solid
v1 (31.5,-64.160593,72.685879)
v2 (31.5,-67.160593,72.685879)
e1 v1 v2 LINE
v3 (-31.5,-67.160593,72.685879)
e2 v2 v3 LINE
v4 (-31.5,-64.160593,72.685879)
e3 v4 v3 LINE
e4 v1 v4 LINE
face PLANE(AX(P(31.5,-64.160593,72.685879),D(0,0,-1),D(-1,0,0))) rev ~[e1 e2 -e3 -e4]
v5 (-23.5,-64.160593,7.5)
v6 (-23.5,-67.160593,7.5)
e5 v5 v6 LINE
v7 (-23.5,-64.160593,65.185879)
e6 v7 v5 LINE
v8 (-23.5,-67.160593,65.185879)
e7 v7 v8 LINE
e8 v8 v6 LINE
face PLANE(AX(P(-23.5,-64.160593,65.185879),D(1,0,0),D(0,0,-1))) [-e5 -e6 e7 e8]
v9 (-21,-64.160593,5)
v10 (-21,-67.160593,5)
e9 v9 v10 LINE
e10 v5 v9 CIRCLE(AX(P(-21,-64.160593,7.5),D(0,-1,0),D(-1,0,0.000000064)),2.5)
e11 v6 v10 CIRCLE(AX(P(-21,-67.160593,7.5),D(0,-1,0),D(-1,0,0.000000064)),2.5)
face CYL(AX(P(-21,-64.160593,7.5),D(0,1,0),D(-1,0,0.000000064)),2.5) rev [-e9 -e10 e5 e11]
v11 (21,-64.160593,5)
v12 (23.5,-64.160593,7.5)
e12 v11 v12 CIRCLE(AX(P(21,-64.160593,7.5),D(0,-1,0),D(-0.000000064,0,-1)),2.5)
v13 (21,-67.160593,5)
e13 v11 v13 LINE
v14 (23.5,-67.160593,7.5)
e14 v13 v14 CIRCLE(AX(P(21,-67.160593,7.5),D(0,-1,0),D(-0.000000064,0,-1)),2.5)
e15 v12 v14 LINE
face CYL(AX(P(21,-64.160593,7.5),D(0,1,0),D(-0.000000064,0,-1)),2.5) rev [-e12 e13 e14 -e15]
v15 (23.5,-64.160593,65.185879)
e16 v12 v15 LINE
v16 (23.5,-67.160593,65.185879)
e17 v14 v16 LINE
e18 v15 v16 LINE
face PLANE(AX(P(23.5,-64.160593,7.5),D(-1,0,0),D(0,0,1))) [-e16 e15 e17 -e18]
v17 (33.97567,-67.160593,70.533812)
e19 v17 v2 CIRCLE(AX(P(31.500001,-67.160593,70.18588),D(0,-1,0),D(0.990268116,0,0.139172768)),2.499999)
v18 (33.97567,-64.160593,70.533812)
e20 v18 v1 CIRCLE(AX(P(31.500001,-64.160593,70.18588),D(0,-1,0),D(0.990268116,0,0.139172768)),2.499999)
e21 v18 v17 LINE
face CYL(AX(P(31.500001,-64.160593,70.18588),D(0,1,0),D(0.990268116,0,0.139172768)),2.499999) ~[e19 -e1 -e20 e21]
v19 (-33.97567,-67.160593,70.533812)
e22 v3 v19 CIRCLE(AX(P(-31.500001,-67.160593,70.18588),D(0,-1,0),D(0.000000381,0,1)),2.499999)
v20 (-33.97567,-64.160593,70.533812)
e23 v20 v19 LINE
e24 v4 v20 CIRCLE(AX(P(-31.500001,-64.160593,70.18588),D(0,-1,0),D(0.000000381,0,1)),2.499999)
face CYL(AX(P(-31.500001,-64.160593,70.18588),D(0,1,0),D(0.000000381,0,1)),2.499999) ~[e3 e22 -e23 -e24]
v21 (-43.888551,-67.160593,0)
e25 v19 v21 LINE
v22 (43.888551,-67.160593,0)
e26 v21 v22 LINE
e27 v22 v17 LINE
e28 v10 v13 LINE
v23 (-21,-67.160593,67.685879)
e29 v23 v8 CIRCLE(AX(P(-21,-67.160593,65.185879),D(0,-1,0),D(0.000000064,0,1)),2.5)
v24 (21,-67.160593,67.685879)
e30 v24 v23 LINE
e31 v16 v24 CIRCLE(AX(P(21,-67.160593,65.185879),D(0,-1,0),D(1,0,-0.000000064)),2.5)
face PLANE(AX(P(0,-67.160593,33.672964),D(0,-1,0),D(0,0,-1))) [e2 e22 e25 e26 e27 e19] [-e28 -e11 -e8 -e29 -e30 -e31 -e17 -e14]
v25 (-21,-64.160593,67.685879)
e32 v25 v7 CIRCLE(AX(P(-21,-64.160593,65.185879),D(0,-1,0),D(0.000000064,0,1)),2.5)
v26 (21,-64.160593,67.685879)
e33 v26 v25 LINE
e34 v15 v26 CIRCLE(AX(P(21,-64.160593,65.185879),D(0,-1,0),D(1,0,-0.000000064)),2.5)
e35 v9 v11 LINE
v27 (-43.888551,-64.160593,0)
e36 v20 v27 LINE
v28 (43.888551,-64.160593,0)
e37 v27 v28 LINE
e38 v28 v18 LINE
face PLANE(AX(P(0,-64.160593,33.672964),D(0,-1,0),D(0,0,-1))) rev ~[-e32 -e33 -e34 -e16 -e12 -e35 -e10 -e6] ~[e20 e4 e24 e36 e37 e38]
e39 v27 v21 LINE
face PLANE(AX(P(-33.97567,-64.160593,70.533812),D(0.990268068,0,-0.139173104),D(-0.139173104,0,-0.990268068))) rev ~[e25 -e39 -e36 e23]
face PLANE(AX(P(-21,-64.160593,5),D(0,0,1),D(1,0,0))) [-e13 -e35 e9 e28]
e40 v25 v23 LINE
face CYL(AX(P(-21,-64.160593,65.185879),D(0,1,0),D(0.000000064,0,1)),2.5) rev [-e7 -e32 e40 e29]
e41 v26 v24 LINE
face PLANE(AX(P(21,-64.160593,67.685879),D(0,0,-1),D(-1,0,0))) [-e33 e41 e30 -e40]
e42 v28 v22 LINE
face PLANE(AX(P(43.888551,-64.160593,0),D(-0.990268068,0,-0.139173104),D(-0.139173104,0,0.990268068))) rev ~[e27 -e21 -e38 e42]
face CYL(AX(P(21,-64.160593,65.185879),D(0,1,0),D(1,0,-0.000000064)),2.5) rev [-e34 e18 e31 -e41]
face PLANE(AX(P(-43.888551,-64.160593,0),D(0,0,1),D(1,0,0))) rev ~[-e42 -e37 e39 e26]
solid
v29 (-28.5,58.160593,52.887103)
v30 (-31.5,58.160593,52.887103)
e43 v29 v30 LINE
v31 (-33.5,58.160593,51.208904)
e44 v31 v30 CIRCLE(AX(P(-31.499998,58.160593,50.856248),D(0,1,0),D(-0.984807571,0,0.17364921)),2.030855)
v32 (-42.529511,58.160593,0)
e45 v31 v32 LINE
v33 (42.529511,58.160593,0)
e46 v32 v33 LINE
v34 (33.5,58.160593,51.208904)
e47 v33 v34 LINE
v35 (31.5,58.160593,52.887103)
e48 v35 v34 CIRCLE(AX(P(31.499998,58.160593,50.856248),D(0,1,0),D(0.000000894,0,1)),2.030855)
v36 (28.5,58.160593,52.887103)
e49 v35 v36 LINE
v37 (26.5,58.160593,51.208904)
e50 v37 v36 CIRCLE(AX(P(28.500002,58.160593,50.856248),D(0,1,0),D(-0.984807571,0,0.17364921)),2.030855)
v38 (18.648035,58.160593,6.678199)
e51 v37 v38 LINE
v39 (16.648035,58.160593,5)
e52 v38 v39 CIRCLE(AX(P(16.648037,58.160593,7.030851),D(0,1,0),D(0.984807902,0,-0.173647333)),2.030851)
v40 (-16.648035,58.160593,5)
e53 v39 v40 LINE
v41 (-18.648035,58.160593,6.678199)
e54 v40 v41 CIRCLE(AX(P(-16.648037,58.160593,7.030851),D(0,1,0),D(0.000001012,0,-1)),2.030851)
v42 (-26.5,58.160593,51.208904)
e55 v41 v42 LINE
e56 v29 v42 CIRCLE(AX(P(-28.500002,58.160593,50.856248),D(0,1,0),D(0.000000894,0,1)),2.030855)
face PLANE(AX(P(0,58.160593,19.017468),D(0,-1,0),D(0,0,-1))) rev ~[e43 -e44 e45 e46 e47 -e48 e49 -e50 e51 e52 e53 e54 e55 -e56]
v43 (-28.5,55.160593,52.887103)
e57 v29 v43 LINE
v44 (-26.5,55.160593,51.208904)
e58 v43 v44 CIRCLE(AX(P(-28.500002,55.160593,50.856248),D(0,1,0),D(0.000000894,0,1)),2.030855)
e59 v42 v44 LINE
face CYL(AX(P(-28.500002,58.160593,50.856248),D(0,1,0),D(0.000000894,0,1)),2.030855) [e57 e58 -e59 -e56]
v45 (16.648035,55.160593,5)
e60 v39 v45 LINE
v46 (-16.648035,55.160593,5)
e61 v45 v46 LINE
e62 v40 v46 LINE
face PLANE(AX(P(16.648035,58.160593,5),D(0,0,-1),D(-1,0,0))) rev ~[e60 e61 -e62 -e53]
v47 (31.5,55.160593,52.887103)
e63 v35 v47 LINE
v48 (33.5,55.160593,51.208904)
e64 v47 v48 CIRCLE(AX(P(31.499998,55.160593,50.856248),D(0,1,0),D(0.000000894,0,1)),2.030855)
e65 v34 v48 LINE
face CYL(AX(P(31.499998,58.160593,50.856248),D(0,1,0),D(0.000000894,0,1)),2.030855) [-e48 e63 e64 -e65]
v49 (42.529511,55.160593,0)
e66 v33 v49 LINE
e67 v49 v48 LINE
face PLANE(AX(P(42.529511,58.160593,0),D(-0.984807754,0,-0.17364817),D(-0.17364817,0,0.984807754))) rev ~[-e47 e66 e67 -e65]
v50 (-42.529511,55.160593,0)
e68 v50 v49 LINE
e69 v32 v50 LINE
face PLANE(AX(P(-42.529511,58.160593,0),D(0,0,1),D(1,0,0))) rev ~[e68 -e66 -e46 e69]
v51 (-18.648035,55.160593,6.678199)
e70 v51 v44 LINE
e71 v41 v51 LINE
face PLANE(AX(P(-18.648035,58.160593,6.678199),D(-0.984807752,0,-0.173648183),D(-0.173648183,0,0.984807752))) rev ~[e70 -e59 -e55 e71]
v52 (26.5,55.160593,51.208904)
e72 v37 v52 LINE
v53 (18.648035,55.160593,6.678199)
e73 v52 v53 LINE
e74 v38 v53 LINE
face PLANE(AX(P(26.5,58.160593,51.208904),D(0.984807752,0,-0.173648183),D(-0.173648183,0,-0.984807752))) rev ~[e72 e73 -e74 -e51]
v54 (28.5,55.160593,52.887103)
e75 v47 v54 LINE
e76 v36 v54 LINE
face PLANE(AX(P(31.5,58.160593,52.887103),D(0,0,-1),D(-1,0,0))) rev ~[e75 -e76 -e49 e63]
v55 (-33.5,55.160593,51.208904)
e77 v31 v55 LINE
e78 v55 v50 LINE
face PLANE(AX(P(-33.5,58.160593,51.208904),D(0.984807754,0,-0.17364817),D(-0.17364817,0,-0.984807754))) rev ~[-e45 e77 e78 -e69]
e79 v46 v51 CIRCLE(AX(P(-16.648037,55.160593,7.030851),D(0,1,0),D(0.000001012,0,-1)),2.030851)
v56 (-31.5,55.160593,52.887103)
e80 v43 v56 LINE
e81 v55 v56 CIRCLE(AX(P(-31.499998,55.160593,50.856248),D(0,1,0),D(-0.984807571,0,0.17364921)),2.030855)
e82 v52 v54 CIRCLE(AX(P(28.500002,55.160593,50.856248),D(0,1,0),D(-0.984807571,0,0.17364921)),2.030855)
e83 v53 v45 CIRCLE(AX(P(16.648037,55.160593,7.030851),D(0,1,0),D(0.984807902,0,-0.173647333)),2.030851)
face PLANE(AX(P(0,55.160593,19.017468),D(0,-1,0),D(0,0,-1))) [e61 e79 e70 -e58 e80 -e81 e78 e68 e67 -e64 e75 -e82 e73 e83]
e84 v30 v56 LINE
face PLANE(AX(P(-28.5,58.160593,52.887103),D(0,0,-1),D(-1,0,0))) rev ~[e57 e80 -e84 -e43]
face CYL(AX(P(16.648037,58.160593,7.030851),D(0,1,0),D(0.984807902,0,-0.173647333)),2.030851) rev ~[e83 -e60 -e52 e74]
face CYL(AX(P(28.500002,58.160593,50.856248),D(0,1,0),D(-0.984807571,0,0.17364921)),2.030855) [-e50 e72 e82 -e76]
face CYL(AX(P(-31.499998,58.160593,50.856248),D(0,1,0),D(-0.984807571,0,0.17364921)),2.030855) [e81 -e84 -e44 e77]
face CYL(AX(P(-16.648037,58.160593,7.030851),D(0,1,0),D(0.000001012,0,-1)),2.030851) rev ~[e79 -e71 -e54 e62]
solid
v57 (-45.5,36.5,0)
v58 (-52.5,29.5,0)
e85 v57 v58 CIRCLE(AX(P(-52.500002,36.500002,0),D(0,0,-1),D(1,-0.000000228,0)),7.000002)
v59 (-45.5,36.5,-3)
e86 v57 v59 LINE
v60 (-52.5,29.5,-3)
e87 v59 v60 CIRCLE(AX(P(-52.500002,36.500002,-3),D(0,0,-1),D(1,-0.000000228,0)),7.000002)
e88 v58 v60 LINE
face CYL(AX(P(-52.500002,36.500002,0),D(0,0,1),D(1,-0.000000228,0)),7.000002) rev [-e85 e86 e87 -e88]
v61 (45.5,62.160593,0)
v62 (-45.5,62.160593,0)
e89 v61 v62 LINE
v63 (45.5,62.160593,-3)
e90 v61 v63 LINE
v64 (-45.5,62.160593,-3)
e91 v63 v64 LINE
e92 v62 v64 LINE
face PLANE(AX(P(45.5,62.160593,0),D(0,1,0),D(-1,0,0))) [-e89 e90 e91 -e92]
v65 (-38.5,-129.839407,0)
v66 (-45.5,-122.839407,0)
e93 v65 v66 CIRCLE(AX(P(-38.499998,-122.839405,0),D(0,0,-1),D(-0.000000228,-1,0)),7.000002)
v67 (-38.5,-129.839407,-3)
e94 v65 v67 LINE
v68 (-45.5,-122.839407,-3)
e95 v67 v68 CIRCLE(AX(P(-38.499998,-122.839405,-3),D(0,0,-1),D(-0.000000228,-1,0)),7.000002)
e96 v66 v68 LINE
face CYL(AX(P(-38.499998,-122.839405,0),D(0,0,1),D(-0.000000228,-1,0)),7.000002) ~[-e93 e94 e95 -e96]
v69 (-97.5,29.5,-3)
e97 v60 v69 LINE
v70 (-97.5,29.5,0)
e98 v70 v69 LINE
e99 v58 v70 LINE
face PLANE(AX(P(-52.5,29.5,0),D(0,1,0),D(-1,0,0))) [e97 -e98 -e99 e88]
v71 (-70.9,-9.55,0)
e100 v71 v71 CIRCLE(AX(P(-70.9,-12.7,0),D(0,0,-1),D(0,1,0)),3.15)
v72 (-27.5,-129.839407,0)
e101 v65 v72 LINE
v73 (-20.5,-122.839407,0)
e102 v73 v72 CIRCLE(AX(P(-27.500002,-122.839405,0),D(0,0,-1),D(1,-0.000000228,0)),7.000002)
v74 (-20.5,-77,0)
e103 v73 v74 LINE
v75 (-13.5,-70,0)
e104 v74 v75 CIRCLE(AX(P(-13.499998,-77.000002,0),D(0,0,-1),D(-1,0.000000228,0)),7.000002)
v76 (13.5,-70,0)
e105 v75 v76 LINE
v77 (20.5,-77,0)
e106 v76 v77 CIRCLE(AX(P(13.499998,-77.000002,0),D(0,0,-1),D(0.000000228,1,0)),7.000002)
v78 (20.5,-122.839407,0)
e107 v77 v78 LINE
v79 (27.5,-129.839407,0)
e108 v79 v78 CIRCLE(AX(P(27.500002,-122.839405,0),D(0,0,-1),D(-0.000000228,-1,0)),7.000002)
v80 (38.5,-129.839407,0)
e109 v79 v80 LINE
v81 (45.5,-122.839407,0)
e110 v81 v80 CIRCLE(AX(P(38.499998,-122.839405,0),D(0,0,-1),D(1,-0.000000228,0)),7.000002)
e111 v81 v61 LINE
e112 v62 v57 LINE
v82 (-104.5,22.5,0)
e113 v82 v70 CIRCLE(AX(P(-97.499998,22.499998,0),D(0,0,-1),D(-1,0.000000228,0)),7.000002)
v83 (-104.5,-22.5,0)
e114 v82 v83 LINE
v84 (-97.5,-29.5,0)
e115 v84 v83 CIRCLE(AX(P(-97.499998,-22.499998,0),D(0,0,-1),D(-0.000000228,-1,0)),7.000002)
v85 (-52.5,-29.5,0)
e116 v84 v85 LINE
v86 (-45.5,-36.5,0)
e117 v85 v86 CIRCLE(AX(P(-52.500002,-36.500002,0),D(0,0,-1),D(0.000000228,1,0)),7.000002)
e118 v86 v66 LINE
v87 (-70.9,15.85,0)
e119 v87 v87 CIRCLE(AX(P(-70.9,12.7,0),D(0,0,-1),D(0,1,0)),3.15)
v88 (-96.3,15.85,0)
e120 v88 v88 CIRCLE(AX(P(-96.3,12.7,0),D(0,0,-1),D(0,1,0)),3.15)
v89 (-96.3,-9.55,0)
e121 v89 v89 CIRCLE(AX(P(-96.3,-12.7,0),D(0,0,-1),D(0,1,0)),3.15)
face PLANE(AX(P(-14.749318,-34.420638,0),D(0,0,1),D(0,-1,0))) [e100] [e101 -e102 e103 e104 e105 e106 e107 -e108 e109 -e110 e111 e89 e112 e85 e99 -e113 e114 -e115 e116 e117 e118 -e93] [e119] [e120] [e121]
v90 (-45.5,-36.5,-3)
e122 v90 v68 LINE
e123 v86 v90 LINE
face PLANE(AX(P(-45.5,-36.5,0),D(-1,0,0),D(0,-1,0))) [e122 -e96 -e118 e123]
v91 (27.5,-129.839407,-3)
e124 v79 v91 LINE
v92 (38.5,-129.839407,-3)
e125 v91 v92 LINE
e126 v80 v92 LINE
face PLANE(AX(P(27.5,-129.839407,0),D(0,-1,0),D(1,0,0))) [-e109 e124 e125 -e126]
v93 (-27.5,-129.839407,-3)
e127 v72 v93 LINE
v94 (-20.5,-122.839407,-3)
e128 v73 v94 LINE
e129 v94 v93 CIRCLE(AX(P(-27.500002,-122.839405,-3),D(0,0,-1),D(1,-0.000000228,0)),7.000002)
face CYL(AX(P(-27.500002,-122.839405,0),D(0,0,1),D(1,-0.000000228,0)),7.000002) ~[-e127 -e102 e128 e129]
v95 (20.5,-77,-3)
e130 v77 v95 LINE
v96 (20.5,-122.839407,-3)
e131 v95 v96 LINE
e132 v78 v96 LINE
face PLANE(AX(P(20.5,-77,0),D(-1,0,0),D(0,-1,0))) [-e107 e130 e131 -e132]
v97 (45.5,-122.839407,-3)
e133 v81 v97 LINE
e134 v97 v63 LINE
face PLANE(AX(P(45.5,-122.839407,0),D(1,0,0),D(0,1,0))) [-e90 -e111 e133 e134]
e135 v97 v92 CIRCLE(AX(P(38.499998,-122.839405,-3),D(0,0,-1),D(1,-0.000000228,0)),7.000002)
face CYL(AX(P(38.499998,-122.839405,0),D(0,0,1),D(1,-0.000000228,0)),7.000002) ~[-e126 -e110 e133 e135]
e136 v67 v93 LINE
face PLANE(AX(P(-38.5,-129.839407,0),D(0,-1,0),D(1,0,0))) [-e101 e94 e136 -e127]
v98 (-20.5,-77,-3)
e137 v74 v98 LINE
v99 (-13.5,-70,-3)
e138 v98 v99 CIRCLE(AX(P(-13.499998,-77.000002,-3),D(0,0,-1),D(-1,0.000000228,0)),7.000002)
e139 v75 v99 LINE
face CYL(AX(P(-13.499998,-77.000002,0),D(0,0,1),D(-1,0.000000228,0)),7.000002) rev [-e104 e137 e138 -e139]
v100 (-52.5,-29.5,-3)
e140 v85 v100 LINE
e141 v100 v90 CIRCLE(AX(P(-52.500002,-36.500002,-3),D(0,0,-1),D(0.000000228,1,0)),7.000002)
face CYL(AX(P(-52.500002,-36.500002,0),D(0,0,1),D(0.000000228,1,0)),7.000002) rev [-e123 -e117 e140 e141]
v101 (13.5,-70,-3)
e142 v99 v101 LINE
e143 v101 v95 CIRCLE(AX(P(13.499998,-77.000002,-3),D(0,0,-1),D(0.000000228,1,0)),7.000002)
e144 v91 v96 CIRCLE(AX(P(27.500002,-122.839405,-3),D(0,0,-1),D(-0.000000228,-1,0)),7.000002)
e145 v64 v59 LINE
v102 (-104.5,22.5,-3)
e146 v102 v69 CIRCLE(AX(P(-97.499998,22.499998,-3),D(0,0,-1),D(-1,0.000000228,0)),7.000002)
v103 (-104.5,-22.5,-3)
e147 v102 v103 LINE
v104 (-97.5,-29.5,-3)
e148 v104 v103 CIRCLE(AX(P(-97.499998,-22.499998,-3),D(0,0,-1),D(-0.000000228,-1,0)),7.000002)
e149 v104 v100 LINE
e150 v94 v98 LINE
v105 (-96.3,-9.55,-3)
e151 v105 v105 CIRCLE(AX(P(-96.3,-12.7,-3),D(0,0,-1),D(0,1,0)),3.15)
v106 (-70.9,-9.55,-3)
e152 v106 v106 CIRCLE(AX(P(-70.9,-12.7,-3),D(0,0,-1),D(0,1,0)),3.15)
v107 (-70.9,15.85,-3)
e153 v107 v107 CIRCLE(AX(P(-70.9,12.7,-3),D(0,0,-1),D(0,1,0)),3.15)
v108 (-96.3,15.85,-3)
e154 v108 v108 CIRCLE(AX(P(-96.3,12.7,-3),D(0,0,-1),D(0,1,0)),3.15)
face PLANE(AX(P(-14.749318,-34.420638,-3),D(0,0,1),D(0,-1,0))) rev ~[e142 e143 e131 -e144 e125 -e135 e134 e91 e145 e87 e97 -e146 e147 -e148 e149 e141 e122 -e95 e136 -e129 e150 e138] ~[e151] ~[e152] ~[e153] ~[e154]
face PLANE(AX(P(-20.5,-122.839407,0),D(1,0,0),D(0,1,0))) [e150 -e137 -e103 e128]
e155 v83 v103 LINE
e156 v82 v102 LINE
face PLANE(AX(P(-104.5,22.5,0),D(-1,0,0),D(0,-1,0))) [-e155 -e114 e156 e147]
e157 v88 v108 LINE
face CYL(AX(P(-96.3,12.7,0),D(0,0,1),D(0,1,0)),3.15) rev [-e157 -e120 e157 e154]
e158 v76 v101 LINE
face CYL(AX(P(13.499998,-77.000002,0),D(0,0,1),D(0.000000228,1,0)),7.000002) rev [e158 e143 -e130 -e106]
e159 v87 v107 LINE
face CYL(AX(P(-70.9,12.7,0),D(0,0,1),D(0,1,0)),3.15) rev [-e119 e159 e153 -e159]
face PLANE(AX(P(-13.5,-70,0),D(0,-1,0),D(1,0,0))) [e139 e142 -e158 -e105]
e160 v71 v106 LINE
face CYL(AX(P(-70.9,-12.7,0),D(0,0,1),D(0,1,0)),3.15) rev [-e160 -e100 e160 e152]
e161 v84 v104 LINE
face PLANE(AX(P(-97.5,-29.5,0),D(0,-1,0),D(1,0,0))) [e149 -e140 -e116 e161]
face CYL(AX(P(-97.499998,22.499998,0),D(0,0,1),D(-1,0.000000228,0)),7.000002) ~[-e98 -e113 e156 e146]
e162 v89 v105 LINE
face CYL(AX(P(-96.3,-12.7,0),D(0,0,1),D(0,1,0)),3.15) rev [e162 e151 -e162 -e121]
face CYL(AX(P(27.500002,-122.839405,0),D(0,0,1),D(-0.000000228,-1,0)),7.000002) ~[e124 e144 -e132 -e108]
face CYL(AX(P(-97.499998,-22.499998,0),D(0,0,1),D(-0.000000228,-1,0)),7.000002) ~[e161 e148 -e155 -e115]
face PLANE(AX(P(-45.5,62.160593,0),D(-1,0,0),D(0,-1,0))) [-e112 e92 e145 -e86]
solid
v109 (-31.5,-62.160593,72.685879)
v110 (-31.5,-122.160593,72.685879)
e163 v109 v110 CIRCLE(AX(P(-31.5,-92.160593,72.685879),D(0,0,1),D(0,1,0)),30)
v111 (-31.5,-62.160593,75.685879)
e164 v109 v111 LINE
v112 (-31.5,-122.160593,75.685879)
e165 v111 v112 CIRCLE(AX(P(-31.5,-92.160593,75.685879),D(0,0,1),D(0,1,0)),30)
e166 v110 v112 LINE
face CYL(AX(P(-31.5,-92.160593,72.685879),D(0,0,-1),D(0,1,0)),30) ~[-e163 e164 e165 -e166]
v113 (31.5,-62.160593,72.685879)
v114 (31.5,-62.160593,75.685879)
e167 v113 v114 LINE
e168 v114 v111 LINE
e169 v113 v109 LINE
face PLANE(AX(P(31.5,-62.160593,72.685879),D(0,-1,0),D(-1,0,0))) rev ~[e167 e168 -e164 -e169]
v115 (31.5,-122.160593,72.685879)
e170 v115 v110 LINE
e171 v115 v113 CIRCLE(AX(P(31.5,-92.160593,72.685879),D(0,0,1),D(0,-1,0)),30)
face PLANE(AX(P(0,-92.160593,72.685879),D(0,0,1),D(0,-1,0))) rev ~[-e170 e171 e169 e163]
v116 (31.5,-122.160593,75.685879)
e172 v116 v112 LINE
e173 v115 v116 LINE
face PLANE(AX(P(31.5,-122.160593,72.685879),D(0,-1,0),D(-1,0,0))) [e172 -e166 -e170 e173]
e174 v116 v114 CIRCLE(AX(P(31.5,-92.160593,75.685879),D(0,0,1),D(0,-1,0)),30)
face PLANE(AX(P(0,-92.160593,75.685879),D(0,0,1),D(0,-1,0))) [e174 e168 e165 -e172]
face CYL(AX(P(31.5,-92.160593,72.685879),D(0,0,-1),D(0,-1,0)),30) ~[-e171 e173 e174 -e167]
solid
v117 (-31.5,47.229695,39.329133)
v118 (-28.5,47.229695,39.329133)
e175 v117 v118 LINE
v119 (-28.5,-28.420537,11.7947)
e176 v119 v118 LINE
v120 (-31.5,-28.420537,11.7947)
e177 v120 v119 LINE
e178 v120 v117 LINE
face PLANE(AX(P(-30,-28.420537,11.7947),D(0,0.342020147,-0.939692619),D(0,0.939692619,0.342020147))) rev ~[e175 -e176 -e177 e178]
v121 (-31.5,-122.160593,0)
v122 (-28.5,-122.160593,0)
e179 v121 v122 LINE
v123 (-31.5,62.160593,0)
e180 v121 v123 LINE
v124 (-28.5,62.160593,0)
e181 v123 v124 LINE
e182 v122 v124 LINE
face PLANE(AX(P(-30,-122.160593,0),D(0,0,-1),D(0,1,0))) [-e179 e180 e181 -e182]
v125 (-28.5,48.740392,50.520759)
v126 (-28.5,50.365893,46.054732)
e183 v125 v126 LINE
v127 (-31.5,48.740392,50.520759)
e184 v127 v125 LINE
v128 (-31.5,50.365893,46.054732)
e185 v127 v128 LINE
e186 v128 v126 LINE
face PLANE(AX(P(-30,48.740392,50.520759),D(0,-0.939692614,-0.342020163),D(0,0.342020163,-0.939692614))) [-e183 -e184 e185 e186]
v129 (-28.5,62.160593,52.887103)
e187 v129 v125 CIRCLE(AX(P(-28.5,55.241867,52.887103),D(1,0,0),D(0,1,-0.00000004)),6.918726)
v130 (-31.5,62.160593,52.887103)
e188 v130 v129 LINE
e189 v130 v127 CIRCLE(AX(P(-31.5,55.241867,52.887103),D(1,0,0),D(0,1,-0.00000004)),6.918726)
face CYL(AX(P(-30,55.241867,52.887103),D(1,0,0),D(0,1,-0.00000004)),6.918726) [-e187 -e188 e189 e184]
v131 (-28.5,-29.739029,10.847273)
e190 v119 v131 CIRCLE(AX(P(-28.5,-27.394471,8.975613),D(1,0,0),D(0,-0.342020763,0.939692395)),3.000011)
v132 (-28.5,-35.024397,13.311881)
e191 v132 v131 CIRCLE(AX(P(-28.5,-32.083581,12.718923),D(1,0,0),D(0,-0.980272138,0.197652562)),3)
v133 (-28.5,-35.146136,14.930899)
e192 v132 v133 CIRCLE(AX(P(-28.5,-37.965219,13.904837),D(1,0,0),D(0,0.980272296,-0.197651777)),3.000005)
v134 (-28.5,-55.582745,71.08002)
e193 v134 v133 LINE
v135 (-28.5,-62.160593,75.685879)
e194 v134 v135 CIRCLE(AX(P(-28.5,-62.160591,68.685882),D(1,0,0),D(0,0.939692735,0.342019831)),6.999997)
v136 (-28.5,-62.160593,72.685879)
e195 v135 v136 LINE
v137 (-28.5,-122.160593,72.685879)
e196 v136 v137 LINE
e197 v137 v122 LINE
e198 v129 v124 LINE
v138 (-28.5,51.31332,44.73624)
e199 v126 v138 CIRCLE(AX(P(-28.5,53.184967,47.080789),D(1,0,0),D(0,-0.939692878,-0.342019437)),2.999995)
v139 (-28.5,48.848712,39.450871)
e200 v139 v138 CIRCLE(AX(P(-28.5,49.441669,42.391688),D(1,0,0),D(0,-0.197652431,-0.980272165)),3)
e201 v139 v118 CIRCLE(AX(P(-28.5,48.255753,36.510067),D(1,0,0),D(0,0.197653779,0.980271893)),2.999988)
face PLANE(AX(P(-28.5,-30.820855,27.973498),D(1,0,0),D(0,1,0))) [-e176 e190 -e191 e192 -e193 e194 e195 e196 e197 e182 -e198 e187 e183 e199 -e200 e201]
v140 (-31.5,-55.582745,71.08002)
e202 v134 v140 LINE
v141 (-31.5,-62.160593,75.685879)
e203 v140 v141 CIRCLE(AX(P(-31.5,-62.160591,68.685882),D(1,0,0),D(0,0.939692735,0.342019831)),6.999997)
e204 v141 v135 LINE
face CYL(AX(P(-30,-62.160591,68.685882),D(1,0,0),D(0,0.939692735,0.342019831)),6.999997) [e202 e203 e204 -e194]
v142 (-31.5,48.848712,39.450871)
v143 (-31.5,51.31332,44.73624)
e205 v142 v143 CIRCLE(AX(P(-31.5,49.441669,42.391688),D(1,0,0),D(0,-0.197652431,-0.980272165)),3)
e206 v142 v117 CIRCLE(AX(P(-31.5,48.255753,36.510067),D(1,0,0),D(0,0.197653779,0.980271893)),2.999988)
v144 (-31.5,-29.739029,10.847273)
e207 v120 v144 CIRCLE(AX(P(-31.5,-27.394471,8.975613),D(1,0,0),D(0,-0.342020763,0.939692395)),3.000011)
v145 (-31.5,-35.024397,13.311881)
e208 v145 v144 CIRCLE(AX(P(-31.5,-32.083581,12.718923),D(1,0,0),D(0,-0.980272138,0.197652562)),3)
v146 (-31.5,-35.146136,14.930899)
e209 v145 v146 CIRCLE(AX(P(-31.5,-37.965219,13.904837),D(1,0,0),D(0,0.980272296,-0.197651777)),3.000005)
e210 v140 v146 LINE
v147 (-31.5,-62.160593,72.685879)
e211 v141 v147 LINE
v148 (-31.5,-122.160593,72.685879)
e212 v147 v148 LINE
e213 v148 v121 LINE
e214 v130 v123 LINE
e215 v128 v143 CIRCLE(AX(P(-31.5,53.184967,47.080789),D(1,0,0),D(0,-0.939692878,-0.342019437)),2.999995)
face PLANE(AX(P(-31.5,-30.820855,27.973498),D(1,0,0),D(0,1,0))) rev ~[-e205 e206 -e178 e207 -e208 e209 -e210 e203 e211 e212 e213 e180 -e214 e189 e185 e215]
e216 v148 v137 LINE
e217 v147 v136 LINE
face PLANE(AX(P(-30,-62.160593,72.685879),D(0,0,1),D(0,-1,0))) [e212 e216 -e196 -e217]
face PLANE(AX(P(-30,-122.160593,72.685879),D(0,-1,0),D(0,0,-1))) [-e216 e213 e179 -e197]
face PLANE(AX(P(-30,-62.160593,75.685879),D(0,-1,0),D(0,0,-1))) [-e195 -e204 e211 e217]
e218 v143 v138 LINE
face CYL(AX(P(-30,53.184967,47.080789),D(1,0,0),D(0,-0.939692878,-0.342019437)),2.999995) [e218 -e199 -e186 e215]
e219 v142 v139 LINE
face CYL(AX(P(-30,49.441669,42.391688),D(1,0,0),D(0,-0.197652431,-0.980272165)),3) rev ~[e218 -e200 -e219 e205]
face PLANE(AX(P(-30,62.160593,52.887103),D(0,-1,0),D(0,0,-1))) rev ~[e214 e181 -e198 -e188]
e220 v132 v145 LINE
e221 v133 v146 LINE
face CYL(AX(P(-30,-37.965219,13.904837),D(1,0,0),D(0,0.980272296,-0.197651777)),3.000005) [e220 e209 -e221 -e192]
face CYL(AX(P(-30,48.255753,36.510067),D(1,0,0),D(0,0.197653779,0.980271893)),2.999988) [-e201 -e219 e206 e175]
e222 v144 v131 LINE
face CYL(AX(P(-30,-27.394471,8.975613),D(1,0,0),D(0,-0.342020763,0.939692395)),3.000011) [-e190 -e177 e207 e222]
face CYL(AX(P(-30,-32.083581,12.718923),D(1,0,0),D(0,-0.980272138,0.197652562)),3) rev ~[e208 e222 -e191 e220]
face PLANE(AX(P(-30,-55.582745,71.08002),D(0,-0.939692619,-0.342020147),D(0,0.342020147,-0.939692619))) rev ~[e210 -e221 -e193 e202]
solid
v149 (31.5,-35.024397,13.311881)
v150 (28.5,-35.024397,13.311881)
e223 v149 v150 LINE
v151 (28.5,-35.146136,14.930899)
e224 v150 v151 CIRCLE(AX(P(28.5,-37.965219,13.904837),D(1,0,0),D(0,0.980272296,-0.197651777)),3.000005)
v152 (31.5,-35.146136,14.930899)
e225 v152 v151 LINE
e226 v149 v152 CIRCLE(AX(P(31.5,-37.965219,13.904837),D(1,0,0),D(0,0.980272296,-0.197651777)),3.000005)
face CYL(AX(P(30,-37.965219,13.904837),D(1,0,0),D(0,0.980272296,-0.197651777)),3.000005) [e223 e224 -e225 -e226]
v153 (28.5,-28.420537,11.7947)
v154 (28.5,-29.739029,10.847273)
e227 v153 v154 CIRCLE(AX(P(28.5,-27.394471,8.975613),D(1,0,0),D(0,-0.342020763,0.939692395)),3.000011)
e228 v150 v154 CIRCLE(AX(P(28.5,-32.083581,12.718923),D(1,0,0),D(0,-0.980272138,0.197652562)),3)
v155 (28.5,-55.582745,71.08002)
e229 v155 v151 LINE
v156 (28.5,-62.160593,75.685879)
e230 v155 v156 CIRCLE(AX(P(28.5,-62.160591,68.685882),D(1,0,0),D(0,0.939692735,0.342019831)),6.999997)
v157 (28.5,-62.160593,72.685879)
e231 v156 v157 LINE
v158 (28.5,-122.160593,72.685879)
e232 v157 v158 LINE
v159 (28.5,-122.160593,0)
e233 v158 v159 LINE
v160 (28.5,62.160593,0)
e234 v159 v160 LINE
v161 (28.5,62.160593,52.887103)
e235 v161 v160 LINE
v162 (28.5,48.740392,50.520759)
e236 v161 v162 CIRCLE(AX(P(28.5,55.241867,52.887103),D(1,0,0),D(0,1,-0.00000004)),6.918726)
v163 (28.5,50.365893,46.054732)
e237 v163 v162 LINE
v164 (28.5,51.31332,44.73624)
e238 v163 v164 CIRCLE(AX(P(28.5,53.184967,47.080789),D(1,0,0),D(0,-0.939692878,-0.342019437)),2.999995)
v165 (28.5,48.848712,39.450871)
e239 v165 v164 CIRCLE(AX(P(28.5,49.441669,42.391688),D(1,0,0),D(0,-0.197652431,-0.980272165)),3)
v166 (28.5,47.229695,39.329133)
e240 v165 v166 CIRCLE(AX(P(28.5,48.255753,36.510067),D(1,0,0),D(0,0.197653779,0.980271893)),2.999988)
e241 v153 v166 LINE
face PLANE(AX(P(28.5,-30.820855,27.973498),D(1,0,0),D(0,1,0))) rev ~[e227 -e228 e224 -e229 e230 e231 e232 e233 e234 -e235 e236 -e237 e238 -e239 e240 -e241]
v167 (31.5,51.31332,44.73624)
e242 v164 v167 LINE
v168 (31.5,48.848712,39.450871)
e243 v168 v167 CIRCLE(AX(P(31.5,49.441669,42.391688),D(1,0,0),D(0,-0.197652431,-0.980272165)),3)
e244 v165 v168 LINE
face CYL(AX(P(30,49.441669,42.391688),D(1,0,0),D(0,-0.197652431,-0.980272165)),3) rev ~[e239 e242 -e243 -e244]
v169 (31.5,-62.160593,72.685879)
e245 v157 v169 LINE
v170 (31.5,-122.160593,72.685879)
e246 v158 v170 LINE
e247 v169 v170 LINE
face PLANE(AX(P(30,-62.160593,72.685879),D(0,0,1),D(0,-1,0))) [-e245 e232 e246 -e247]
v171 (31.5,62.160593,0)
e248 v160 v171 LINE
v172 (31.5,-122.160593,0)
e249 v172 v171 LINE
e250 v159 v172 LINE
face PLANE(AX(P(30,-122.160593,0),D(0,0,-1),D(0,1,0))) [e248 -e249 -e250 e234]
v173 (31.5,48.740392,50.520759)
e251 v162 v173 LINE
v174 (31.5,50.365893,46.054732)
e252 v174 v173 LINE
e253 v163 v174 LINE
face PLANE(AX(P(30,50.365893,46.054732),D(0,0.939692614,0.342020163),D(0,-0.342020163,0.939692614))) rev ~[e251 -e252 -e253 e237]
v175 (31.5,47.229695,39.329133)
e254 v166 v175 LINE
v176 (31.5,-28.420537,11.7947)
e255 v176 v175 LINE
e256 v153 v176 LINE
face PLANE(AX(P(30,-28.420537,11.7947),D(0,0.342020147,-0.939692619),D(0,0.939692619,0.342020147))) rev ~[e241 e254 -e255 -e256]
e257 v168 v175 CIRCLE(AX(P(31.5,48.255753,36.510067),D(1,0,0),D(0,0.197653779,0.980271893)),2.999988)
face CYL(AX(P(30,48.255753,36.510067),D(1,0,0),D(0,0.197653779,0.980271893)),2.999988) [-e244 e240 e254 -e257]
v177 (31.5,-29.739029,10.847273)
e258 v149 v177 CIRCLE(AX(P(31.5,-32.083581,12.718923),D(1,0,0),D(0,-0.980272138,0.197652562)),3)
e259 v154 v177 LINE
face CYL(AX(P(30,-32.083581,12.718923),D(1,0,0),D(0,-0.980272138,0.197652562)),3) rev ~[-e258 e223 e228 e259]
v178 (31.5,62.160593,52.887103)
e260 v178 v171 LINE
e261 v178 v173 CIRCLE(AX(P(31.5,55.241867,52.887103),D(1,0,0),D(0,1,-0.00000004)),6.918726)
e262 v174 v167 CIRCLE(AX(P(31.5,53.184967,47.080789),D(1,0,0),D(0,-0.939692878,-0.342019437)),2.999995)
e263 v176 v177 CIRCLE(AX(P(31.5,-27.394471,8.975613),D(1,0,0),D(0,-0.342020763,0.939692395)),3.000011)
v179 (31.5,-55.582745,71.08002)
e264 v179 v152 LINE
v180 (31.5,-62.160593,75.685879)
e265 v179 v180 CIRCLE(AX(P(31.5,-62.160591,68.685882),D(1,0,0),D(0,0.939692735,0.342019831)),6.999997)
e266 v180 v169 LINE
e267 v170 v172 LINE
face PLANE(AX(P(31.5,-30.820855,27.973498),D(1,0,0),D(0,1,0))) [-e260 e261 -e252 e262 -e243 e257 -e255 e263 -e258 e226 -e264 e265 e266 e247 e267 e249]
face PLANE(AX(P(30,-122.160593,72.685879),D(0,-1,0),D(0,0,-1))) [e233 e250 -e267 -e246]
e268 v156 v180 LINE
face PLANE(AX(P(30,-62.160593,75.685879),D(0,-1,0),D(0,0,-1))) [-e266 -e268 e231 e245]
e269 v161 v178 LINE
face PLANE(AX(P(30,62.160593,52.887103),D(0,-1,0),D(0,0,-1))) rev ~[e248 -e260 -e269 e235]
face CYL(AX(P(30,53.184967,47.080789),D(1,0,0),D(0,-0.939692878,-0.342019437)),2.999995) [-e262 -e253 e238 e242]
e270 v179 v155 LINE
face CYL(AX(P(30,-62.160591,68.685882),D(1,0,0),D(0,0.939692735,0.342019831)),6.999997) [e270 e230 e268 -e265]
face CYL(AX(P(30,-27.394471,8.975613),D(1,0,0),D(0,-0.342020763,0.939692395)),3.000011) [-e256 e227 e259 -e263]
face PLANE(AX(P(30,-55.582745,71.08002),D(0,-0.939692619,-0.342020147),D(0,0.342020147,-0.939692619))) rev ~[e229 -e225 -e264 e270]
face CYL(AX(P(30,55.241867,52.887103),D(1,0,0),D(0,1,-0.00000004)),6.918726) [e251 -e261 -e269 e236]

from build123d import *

# Parameters (mm, degrees)
PAD_DEPTH    = 1.5
PAD001_DEPTH = 1.5
SKETCH002_R  = 3.15
PAD002_DEPTH = 3
PAD003_DEPTH = 3
PAD004_DEPTH = 3
PAD005_DEPTH = 3


with BuildPart() as leftangle_b:
    # Sketch → Pad (new body, symmetric)
    with BuildSketch(Plane.YZ.offset(-30)):
        with BuildLine():
            ThreePointArc((-55.582745, 71.08002), (-58.145558, 74.419944), (-62.160593, 75.685879))
            Line((-62.160593, 75.685879), (-62.160593, 72.685879))
            Line((-62.160593, 72.685879), (-122.160593, 72.685879))
            Line((-122.160593, 72.685879), (-122.160593, 0))
            Line((-122.160593, 0), (-62.160593, 0))
            Line((62.160593, 0), (-62.160593, 0))
            Line((62.160593, 52.887103), (62.160593, 0))
            ThreePointArc((62.160593, 52.887103), (54.040443, 59.700718), (48.740392, 50.520759))
            Line((48.740392, 50.520759), (50.365893, 46.054732))
            ThreePointArc((50.365893, 46.054732), (50.748716, 45.330174), (51.31332, 44.73624))
            ThreePointArc((48.848712, 39.450871), (52.160593, 41.123833), (51.31332, 44.73624))
            ThreePointArc((48.848712, 39.450871), (48.030811, 39.50161), (47.229695, 39.329133))
            Line((-28.420537, 11.7947), (47.229695, 39.329133))
            ThreePointArc((-28.420537, 11.7947), (-29.145094, 11.411877), (-29.739029, 10.847273))
            ThreePointArc((-35.024397, 13.311881), (-33.351435, 10), (-29.739029, 10.847273))
            ThreePointArc((-35.024397, 13.311881), (-34.973659, 14.129782), (-35.146136, 14.930899))
            Line((-55.582745, 71.08002), (-35.146136, 14.930899))
        make_face()
    extrude(amount=PAD_DEPTH, both=True)


with BuildPart() as rightangle_b:
    # Sketch001 → Pad001 (new body, symmetric)
    with BuildSketch(Plane.YZ.offset(30)):
        with BuildLine():
            ThreePointArc((-55.582745, 71.08002), (-58.145558, 74.419944), (-62.160593, 75.685879))
            Line((-62.160593, 75.685879), (-62.160593, 72.685879))
            Line((-62.160593, 72.685879), (-122.160593, 72.685879))
            Line((-122.160593, 72.685879), (-122.160593, 0))
            Line((-122.160593, 0), (-62.160593, 0))
            Line((62.160593, 0), (-62.160593, 0))
            Line((62.160593, 52.887103), (62.160593, 0))
            ThreePointArc((62.160593, 52.887103), (54.040443, 59.700718), (48.740392, 50.520759))
            Line((50.365893, 46.054732), (48.740392, 50.520759))
            ThreePointArc((50.365893, 46.054732), (50.748716, 45.330174), (51.31332, 44.73624))
            ThreePointArc((48.848712, 39.450871), (52.160593, 41.123833), (51.31332, 44.73624))
            ThreePointArc((48.848712, 39.450871), (48.030811, 39.50161), (47.229695, 39.329133))
            Line((-28.420537, 11.7947), (47.229695, 39.329133))
            ThreePointArc((-28.420537, 11.7947), (-29.145094, 11.411877), (-29.739029, 10.847273))
            ThreePointArc((-35.024397, 13.311881), (-33.351435, 10), (-29.739029, 10.847273))
            ThreePointArc((-35.024397, 13.311881), (-34.973659, 14.129782), (-35.146136, 14.930899))
            Line((-55.582745, 71.08002), (-35.146136, 14.930899))
        make_face()
    extrude(amount=PAD001_DEPTH, both=True)


with BuildPart() as base_b:
    # Sketch002 (on Face1 of ReferencePad) → Pad002 (new body)
    with BuildSketch(Plane.YX):
        with BuildLine():
            Line((-129.839407, -38.5), (-129.839407, -27.5))
            ThreePointArc((-122.839407, -20.5), (-127.789154, -22.550253), (-129.839407, -27.5))
            Line((-122.839407, -20.5), (-77, -20.5))
            ThreePointArc((-77, -20.5), (-72.050253, -18.449747), (-70, -13.5))
            Line((-70, -13.5), (-70, 13.5))
            ThreePointArc((-70, 13.5), (-72.050253, 18.449747), (-77, 20.5))
            Line((-77, 20.5), (-122.839407, 20.5))
            ThreePointArc((-129.839407, 27.5), (-127.789154, 22.550253), (-122.839407, 20.5))
            Line((-129.839407, 27.5), (-129.839407, 38.5))
            ThreePointArc((-122.839407, 45.5), (-127.789154, 43.449747), (-129.839407, 38.5))
            Line((-122.839407, 45.5), (62.160593, 45.5))
            Line((62.160593, 45.5), (62.160593, -45.5))
            Line((62.160593, -45.5), (36.5, -45.5))
            ThreePointArc((36.5, -45.5), (31.550253, -47.550253), (29.5, -52.5))
            Line((29.5, -52.5), (29.5, -97.5))
            ThreePointArc((22.5, -104.5), (27.449747, -102.449747), (29.5, -97.5))
            Line((22.5, -104.5), (-22.5, -104.5))
            ThreePointArc((-29.5, -97.5), (-27.449747, -102.449747), (-22.5, -104.5))
            Line((-29.5, -97.5), (-29.5, -52.5))
            ThreePointArc((-29.5, -52.5), (-31.550253, -47.550253), (-36.5, -45.5))
            Line((-36.5, -45.5), (-122.839407, -45.5))
            ThreePointArc((-129.839407, -38.5), (-127.789154, -43.449747), (-122.839407, -45.5))
        make_face()
        with Locations((-12.7, -96.3)):
            Circle(SKETCH002_R, mode=Mode.SUBTRACT)
        with Locations((-12.7, -70.9)):
            Circle(SKETCH002_R, mode=Mode.SUBTRACT)
        with Locations((12.7, -70.9)):
            Circle(SKETCH002_R, mode=Mode.SUBTRACT)
        with Locations((12.7, -96.3)):
            Circle(SKETCH002_R, mode=Mode.SUBTRACT)
    extrude(amount=PAD002_DEPTH)


with BuildPart() as hand_b:
    # Sketch003 (on Face1 of ReferencePad001) → Pad003 (new body)
    with BuildSketch(Plane(origin=(0, 0, 72.685879), x_dir=(0, -1, 0), z_dir=(0, 0, 1))):
        with BuildLine():
            ThreePointArc((122.160593, 31.5), (92.160593, 61.5), (62.160593, 31.5))
            Line((62.160593, 31.5), (62.160593, -31.5))
            ThreePointArc((62.160593, -31.5), (92.160593, -61.5), (122.160593, -31.5))
            Line((122.160593, 31.5), (122.160593, -31.5))
        make_face()
    extrude(amount=PAD003_DEPTH)


with BuildPart() as stabilizer_far_b:
    # Sketch004 (on Face1 of ReferencePad001001) → Pad004 (new body)
    with BuildSketch(Plane.ZX.offset(62.160593)):
        with BuildLine():
            Line((0, 42.529511), (51.208904, 33.5))
            ThreePointArc((52.887103, 31.5), (52.411973, 32.805407), (51.208904, 33.5))
            Line((52.887103, 31.5), (52.887103, 28.5))
            ThreePointArc((51.208904, 26.5), (52.411973, 27.194593), (52.887103, 28.5))
            Line((51.208904, 26.5), (6.678199, 18.648035))
            ThreePointArc((6.678199, 18.648035), (5.475129, 17.953443), (5, 16.648035))
            Line((5, 16.648035), (5, -16.648035))
            ThreePointArc((5, -16.648035), (5.475129, -17.953443), (6.678199, -18.648035))
            Line((6.678199, -18.648035), (51.208904, -26.5))
            ThreePointArc((52.887103, -28.5), (52.411973, -27.194593), (51.208904, -26.5))
            Line((52.887103, -28.5), (52.887103, -31.5))
            ThreePointArc((51.208904, -33.5), (52.411973, -32.805407), (52.887103, -31.5))
            Line((51.208904, -33.5), (0, -42.529511))
            Line((0, -42.529511), (0, 42.529511))
        make_face()
    extrude(amount=-PAD004_DEPTH)


with BuildPart() as stabilizer_far_b_1:
    # Body004 placement: moved
    add(stabilizer_far_b.part.moved(Location((0, -4, 0))))


with BuildPart() as stabilizer_close_b:
    # Sketch005 (on Face1 of ReferencePad001002) → Pad005 (new body)
    with BuildSketch(Plane(origin=(0, -122.160593, 0), x_dir=(0, 0, -1), z_dir=(0, -1, 0))):
        with BuildLine():
            Line((-70.533812, -33.97567), (0, -43.888551))
            Line((0, -43.888551), (0, 43.888551))
            Line((0, 43.888551), (-70.533812, 33.97567))
            ThreePointArc((-70.533812, 33.97567), (-72.072653, 33.140148), (-72.685879, 31.5))
            Line((-72.685879, 31.5), (-72.685879, -31.5))
            ThreePointArc((-72.685879, -31.5), (-72.072653, -33.140148), (-70.533812, -33.97567))
        make_face()
        with BuildLine():
            Line((-65.185879, -23.5), (-7.5, -23.5))
            ThreePointArc((-7.5, -23.5), (-5.732233, -22.767767), (-5, -21))
            Line((-5, -21), (-5, 21))
            ThreePointArc((-5, 21), (-5.732233, 22.767767), (-7.5, 23.5))
            Line((-7.5, 23.5), (-65.185879, 23.5))
            ThreePointArc((-65.185879, 23.5), (-66.953646, 22.767767), (-67.685879, 21))
            Line((-67.685879, 21), (-67.685879, -21))
            ThreePointArc((-67.685879, -21), (-66.953646, -22.767767), (-65.185879, -23.5))
        make_face(mode=Mode.SUBTRACT)
    extrude(amount=PAD005_DEPTH)


with BuildPart() as stabilizer_close_b_1:
    # Body005 placement: moved
    add(stabilizer_close_b.part.moved(Location((0, 58, 0))))


solid = Compound([leftangle_b.part, rightangle_b.part, base_b.part, hand_b.part, stabilizer_far_b_1.part, stabilizer_close_b_1.part])
